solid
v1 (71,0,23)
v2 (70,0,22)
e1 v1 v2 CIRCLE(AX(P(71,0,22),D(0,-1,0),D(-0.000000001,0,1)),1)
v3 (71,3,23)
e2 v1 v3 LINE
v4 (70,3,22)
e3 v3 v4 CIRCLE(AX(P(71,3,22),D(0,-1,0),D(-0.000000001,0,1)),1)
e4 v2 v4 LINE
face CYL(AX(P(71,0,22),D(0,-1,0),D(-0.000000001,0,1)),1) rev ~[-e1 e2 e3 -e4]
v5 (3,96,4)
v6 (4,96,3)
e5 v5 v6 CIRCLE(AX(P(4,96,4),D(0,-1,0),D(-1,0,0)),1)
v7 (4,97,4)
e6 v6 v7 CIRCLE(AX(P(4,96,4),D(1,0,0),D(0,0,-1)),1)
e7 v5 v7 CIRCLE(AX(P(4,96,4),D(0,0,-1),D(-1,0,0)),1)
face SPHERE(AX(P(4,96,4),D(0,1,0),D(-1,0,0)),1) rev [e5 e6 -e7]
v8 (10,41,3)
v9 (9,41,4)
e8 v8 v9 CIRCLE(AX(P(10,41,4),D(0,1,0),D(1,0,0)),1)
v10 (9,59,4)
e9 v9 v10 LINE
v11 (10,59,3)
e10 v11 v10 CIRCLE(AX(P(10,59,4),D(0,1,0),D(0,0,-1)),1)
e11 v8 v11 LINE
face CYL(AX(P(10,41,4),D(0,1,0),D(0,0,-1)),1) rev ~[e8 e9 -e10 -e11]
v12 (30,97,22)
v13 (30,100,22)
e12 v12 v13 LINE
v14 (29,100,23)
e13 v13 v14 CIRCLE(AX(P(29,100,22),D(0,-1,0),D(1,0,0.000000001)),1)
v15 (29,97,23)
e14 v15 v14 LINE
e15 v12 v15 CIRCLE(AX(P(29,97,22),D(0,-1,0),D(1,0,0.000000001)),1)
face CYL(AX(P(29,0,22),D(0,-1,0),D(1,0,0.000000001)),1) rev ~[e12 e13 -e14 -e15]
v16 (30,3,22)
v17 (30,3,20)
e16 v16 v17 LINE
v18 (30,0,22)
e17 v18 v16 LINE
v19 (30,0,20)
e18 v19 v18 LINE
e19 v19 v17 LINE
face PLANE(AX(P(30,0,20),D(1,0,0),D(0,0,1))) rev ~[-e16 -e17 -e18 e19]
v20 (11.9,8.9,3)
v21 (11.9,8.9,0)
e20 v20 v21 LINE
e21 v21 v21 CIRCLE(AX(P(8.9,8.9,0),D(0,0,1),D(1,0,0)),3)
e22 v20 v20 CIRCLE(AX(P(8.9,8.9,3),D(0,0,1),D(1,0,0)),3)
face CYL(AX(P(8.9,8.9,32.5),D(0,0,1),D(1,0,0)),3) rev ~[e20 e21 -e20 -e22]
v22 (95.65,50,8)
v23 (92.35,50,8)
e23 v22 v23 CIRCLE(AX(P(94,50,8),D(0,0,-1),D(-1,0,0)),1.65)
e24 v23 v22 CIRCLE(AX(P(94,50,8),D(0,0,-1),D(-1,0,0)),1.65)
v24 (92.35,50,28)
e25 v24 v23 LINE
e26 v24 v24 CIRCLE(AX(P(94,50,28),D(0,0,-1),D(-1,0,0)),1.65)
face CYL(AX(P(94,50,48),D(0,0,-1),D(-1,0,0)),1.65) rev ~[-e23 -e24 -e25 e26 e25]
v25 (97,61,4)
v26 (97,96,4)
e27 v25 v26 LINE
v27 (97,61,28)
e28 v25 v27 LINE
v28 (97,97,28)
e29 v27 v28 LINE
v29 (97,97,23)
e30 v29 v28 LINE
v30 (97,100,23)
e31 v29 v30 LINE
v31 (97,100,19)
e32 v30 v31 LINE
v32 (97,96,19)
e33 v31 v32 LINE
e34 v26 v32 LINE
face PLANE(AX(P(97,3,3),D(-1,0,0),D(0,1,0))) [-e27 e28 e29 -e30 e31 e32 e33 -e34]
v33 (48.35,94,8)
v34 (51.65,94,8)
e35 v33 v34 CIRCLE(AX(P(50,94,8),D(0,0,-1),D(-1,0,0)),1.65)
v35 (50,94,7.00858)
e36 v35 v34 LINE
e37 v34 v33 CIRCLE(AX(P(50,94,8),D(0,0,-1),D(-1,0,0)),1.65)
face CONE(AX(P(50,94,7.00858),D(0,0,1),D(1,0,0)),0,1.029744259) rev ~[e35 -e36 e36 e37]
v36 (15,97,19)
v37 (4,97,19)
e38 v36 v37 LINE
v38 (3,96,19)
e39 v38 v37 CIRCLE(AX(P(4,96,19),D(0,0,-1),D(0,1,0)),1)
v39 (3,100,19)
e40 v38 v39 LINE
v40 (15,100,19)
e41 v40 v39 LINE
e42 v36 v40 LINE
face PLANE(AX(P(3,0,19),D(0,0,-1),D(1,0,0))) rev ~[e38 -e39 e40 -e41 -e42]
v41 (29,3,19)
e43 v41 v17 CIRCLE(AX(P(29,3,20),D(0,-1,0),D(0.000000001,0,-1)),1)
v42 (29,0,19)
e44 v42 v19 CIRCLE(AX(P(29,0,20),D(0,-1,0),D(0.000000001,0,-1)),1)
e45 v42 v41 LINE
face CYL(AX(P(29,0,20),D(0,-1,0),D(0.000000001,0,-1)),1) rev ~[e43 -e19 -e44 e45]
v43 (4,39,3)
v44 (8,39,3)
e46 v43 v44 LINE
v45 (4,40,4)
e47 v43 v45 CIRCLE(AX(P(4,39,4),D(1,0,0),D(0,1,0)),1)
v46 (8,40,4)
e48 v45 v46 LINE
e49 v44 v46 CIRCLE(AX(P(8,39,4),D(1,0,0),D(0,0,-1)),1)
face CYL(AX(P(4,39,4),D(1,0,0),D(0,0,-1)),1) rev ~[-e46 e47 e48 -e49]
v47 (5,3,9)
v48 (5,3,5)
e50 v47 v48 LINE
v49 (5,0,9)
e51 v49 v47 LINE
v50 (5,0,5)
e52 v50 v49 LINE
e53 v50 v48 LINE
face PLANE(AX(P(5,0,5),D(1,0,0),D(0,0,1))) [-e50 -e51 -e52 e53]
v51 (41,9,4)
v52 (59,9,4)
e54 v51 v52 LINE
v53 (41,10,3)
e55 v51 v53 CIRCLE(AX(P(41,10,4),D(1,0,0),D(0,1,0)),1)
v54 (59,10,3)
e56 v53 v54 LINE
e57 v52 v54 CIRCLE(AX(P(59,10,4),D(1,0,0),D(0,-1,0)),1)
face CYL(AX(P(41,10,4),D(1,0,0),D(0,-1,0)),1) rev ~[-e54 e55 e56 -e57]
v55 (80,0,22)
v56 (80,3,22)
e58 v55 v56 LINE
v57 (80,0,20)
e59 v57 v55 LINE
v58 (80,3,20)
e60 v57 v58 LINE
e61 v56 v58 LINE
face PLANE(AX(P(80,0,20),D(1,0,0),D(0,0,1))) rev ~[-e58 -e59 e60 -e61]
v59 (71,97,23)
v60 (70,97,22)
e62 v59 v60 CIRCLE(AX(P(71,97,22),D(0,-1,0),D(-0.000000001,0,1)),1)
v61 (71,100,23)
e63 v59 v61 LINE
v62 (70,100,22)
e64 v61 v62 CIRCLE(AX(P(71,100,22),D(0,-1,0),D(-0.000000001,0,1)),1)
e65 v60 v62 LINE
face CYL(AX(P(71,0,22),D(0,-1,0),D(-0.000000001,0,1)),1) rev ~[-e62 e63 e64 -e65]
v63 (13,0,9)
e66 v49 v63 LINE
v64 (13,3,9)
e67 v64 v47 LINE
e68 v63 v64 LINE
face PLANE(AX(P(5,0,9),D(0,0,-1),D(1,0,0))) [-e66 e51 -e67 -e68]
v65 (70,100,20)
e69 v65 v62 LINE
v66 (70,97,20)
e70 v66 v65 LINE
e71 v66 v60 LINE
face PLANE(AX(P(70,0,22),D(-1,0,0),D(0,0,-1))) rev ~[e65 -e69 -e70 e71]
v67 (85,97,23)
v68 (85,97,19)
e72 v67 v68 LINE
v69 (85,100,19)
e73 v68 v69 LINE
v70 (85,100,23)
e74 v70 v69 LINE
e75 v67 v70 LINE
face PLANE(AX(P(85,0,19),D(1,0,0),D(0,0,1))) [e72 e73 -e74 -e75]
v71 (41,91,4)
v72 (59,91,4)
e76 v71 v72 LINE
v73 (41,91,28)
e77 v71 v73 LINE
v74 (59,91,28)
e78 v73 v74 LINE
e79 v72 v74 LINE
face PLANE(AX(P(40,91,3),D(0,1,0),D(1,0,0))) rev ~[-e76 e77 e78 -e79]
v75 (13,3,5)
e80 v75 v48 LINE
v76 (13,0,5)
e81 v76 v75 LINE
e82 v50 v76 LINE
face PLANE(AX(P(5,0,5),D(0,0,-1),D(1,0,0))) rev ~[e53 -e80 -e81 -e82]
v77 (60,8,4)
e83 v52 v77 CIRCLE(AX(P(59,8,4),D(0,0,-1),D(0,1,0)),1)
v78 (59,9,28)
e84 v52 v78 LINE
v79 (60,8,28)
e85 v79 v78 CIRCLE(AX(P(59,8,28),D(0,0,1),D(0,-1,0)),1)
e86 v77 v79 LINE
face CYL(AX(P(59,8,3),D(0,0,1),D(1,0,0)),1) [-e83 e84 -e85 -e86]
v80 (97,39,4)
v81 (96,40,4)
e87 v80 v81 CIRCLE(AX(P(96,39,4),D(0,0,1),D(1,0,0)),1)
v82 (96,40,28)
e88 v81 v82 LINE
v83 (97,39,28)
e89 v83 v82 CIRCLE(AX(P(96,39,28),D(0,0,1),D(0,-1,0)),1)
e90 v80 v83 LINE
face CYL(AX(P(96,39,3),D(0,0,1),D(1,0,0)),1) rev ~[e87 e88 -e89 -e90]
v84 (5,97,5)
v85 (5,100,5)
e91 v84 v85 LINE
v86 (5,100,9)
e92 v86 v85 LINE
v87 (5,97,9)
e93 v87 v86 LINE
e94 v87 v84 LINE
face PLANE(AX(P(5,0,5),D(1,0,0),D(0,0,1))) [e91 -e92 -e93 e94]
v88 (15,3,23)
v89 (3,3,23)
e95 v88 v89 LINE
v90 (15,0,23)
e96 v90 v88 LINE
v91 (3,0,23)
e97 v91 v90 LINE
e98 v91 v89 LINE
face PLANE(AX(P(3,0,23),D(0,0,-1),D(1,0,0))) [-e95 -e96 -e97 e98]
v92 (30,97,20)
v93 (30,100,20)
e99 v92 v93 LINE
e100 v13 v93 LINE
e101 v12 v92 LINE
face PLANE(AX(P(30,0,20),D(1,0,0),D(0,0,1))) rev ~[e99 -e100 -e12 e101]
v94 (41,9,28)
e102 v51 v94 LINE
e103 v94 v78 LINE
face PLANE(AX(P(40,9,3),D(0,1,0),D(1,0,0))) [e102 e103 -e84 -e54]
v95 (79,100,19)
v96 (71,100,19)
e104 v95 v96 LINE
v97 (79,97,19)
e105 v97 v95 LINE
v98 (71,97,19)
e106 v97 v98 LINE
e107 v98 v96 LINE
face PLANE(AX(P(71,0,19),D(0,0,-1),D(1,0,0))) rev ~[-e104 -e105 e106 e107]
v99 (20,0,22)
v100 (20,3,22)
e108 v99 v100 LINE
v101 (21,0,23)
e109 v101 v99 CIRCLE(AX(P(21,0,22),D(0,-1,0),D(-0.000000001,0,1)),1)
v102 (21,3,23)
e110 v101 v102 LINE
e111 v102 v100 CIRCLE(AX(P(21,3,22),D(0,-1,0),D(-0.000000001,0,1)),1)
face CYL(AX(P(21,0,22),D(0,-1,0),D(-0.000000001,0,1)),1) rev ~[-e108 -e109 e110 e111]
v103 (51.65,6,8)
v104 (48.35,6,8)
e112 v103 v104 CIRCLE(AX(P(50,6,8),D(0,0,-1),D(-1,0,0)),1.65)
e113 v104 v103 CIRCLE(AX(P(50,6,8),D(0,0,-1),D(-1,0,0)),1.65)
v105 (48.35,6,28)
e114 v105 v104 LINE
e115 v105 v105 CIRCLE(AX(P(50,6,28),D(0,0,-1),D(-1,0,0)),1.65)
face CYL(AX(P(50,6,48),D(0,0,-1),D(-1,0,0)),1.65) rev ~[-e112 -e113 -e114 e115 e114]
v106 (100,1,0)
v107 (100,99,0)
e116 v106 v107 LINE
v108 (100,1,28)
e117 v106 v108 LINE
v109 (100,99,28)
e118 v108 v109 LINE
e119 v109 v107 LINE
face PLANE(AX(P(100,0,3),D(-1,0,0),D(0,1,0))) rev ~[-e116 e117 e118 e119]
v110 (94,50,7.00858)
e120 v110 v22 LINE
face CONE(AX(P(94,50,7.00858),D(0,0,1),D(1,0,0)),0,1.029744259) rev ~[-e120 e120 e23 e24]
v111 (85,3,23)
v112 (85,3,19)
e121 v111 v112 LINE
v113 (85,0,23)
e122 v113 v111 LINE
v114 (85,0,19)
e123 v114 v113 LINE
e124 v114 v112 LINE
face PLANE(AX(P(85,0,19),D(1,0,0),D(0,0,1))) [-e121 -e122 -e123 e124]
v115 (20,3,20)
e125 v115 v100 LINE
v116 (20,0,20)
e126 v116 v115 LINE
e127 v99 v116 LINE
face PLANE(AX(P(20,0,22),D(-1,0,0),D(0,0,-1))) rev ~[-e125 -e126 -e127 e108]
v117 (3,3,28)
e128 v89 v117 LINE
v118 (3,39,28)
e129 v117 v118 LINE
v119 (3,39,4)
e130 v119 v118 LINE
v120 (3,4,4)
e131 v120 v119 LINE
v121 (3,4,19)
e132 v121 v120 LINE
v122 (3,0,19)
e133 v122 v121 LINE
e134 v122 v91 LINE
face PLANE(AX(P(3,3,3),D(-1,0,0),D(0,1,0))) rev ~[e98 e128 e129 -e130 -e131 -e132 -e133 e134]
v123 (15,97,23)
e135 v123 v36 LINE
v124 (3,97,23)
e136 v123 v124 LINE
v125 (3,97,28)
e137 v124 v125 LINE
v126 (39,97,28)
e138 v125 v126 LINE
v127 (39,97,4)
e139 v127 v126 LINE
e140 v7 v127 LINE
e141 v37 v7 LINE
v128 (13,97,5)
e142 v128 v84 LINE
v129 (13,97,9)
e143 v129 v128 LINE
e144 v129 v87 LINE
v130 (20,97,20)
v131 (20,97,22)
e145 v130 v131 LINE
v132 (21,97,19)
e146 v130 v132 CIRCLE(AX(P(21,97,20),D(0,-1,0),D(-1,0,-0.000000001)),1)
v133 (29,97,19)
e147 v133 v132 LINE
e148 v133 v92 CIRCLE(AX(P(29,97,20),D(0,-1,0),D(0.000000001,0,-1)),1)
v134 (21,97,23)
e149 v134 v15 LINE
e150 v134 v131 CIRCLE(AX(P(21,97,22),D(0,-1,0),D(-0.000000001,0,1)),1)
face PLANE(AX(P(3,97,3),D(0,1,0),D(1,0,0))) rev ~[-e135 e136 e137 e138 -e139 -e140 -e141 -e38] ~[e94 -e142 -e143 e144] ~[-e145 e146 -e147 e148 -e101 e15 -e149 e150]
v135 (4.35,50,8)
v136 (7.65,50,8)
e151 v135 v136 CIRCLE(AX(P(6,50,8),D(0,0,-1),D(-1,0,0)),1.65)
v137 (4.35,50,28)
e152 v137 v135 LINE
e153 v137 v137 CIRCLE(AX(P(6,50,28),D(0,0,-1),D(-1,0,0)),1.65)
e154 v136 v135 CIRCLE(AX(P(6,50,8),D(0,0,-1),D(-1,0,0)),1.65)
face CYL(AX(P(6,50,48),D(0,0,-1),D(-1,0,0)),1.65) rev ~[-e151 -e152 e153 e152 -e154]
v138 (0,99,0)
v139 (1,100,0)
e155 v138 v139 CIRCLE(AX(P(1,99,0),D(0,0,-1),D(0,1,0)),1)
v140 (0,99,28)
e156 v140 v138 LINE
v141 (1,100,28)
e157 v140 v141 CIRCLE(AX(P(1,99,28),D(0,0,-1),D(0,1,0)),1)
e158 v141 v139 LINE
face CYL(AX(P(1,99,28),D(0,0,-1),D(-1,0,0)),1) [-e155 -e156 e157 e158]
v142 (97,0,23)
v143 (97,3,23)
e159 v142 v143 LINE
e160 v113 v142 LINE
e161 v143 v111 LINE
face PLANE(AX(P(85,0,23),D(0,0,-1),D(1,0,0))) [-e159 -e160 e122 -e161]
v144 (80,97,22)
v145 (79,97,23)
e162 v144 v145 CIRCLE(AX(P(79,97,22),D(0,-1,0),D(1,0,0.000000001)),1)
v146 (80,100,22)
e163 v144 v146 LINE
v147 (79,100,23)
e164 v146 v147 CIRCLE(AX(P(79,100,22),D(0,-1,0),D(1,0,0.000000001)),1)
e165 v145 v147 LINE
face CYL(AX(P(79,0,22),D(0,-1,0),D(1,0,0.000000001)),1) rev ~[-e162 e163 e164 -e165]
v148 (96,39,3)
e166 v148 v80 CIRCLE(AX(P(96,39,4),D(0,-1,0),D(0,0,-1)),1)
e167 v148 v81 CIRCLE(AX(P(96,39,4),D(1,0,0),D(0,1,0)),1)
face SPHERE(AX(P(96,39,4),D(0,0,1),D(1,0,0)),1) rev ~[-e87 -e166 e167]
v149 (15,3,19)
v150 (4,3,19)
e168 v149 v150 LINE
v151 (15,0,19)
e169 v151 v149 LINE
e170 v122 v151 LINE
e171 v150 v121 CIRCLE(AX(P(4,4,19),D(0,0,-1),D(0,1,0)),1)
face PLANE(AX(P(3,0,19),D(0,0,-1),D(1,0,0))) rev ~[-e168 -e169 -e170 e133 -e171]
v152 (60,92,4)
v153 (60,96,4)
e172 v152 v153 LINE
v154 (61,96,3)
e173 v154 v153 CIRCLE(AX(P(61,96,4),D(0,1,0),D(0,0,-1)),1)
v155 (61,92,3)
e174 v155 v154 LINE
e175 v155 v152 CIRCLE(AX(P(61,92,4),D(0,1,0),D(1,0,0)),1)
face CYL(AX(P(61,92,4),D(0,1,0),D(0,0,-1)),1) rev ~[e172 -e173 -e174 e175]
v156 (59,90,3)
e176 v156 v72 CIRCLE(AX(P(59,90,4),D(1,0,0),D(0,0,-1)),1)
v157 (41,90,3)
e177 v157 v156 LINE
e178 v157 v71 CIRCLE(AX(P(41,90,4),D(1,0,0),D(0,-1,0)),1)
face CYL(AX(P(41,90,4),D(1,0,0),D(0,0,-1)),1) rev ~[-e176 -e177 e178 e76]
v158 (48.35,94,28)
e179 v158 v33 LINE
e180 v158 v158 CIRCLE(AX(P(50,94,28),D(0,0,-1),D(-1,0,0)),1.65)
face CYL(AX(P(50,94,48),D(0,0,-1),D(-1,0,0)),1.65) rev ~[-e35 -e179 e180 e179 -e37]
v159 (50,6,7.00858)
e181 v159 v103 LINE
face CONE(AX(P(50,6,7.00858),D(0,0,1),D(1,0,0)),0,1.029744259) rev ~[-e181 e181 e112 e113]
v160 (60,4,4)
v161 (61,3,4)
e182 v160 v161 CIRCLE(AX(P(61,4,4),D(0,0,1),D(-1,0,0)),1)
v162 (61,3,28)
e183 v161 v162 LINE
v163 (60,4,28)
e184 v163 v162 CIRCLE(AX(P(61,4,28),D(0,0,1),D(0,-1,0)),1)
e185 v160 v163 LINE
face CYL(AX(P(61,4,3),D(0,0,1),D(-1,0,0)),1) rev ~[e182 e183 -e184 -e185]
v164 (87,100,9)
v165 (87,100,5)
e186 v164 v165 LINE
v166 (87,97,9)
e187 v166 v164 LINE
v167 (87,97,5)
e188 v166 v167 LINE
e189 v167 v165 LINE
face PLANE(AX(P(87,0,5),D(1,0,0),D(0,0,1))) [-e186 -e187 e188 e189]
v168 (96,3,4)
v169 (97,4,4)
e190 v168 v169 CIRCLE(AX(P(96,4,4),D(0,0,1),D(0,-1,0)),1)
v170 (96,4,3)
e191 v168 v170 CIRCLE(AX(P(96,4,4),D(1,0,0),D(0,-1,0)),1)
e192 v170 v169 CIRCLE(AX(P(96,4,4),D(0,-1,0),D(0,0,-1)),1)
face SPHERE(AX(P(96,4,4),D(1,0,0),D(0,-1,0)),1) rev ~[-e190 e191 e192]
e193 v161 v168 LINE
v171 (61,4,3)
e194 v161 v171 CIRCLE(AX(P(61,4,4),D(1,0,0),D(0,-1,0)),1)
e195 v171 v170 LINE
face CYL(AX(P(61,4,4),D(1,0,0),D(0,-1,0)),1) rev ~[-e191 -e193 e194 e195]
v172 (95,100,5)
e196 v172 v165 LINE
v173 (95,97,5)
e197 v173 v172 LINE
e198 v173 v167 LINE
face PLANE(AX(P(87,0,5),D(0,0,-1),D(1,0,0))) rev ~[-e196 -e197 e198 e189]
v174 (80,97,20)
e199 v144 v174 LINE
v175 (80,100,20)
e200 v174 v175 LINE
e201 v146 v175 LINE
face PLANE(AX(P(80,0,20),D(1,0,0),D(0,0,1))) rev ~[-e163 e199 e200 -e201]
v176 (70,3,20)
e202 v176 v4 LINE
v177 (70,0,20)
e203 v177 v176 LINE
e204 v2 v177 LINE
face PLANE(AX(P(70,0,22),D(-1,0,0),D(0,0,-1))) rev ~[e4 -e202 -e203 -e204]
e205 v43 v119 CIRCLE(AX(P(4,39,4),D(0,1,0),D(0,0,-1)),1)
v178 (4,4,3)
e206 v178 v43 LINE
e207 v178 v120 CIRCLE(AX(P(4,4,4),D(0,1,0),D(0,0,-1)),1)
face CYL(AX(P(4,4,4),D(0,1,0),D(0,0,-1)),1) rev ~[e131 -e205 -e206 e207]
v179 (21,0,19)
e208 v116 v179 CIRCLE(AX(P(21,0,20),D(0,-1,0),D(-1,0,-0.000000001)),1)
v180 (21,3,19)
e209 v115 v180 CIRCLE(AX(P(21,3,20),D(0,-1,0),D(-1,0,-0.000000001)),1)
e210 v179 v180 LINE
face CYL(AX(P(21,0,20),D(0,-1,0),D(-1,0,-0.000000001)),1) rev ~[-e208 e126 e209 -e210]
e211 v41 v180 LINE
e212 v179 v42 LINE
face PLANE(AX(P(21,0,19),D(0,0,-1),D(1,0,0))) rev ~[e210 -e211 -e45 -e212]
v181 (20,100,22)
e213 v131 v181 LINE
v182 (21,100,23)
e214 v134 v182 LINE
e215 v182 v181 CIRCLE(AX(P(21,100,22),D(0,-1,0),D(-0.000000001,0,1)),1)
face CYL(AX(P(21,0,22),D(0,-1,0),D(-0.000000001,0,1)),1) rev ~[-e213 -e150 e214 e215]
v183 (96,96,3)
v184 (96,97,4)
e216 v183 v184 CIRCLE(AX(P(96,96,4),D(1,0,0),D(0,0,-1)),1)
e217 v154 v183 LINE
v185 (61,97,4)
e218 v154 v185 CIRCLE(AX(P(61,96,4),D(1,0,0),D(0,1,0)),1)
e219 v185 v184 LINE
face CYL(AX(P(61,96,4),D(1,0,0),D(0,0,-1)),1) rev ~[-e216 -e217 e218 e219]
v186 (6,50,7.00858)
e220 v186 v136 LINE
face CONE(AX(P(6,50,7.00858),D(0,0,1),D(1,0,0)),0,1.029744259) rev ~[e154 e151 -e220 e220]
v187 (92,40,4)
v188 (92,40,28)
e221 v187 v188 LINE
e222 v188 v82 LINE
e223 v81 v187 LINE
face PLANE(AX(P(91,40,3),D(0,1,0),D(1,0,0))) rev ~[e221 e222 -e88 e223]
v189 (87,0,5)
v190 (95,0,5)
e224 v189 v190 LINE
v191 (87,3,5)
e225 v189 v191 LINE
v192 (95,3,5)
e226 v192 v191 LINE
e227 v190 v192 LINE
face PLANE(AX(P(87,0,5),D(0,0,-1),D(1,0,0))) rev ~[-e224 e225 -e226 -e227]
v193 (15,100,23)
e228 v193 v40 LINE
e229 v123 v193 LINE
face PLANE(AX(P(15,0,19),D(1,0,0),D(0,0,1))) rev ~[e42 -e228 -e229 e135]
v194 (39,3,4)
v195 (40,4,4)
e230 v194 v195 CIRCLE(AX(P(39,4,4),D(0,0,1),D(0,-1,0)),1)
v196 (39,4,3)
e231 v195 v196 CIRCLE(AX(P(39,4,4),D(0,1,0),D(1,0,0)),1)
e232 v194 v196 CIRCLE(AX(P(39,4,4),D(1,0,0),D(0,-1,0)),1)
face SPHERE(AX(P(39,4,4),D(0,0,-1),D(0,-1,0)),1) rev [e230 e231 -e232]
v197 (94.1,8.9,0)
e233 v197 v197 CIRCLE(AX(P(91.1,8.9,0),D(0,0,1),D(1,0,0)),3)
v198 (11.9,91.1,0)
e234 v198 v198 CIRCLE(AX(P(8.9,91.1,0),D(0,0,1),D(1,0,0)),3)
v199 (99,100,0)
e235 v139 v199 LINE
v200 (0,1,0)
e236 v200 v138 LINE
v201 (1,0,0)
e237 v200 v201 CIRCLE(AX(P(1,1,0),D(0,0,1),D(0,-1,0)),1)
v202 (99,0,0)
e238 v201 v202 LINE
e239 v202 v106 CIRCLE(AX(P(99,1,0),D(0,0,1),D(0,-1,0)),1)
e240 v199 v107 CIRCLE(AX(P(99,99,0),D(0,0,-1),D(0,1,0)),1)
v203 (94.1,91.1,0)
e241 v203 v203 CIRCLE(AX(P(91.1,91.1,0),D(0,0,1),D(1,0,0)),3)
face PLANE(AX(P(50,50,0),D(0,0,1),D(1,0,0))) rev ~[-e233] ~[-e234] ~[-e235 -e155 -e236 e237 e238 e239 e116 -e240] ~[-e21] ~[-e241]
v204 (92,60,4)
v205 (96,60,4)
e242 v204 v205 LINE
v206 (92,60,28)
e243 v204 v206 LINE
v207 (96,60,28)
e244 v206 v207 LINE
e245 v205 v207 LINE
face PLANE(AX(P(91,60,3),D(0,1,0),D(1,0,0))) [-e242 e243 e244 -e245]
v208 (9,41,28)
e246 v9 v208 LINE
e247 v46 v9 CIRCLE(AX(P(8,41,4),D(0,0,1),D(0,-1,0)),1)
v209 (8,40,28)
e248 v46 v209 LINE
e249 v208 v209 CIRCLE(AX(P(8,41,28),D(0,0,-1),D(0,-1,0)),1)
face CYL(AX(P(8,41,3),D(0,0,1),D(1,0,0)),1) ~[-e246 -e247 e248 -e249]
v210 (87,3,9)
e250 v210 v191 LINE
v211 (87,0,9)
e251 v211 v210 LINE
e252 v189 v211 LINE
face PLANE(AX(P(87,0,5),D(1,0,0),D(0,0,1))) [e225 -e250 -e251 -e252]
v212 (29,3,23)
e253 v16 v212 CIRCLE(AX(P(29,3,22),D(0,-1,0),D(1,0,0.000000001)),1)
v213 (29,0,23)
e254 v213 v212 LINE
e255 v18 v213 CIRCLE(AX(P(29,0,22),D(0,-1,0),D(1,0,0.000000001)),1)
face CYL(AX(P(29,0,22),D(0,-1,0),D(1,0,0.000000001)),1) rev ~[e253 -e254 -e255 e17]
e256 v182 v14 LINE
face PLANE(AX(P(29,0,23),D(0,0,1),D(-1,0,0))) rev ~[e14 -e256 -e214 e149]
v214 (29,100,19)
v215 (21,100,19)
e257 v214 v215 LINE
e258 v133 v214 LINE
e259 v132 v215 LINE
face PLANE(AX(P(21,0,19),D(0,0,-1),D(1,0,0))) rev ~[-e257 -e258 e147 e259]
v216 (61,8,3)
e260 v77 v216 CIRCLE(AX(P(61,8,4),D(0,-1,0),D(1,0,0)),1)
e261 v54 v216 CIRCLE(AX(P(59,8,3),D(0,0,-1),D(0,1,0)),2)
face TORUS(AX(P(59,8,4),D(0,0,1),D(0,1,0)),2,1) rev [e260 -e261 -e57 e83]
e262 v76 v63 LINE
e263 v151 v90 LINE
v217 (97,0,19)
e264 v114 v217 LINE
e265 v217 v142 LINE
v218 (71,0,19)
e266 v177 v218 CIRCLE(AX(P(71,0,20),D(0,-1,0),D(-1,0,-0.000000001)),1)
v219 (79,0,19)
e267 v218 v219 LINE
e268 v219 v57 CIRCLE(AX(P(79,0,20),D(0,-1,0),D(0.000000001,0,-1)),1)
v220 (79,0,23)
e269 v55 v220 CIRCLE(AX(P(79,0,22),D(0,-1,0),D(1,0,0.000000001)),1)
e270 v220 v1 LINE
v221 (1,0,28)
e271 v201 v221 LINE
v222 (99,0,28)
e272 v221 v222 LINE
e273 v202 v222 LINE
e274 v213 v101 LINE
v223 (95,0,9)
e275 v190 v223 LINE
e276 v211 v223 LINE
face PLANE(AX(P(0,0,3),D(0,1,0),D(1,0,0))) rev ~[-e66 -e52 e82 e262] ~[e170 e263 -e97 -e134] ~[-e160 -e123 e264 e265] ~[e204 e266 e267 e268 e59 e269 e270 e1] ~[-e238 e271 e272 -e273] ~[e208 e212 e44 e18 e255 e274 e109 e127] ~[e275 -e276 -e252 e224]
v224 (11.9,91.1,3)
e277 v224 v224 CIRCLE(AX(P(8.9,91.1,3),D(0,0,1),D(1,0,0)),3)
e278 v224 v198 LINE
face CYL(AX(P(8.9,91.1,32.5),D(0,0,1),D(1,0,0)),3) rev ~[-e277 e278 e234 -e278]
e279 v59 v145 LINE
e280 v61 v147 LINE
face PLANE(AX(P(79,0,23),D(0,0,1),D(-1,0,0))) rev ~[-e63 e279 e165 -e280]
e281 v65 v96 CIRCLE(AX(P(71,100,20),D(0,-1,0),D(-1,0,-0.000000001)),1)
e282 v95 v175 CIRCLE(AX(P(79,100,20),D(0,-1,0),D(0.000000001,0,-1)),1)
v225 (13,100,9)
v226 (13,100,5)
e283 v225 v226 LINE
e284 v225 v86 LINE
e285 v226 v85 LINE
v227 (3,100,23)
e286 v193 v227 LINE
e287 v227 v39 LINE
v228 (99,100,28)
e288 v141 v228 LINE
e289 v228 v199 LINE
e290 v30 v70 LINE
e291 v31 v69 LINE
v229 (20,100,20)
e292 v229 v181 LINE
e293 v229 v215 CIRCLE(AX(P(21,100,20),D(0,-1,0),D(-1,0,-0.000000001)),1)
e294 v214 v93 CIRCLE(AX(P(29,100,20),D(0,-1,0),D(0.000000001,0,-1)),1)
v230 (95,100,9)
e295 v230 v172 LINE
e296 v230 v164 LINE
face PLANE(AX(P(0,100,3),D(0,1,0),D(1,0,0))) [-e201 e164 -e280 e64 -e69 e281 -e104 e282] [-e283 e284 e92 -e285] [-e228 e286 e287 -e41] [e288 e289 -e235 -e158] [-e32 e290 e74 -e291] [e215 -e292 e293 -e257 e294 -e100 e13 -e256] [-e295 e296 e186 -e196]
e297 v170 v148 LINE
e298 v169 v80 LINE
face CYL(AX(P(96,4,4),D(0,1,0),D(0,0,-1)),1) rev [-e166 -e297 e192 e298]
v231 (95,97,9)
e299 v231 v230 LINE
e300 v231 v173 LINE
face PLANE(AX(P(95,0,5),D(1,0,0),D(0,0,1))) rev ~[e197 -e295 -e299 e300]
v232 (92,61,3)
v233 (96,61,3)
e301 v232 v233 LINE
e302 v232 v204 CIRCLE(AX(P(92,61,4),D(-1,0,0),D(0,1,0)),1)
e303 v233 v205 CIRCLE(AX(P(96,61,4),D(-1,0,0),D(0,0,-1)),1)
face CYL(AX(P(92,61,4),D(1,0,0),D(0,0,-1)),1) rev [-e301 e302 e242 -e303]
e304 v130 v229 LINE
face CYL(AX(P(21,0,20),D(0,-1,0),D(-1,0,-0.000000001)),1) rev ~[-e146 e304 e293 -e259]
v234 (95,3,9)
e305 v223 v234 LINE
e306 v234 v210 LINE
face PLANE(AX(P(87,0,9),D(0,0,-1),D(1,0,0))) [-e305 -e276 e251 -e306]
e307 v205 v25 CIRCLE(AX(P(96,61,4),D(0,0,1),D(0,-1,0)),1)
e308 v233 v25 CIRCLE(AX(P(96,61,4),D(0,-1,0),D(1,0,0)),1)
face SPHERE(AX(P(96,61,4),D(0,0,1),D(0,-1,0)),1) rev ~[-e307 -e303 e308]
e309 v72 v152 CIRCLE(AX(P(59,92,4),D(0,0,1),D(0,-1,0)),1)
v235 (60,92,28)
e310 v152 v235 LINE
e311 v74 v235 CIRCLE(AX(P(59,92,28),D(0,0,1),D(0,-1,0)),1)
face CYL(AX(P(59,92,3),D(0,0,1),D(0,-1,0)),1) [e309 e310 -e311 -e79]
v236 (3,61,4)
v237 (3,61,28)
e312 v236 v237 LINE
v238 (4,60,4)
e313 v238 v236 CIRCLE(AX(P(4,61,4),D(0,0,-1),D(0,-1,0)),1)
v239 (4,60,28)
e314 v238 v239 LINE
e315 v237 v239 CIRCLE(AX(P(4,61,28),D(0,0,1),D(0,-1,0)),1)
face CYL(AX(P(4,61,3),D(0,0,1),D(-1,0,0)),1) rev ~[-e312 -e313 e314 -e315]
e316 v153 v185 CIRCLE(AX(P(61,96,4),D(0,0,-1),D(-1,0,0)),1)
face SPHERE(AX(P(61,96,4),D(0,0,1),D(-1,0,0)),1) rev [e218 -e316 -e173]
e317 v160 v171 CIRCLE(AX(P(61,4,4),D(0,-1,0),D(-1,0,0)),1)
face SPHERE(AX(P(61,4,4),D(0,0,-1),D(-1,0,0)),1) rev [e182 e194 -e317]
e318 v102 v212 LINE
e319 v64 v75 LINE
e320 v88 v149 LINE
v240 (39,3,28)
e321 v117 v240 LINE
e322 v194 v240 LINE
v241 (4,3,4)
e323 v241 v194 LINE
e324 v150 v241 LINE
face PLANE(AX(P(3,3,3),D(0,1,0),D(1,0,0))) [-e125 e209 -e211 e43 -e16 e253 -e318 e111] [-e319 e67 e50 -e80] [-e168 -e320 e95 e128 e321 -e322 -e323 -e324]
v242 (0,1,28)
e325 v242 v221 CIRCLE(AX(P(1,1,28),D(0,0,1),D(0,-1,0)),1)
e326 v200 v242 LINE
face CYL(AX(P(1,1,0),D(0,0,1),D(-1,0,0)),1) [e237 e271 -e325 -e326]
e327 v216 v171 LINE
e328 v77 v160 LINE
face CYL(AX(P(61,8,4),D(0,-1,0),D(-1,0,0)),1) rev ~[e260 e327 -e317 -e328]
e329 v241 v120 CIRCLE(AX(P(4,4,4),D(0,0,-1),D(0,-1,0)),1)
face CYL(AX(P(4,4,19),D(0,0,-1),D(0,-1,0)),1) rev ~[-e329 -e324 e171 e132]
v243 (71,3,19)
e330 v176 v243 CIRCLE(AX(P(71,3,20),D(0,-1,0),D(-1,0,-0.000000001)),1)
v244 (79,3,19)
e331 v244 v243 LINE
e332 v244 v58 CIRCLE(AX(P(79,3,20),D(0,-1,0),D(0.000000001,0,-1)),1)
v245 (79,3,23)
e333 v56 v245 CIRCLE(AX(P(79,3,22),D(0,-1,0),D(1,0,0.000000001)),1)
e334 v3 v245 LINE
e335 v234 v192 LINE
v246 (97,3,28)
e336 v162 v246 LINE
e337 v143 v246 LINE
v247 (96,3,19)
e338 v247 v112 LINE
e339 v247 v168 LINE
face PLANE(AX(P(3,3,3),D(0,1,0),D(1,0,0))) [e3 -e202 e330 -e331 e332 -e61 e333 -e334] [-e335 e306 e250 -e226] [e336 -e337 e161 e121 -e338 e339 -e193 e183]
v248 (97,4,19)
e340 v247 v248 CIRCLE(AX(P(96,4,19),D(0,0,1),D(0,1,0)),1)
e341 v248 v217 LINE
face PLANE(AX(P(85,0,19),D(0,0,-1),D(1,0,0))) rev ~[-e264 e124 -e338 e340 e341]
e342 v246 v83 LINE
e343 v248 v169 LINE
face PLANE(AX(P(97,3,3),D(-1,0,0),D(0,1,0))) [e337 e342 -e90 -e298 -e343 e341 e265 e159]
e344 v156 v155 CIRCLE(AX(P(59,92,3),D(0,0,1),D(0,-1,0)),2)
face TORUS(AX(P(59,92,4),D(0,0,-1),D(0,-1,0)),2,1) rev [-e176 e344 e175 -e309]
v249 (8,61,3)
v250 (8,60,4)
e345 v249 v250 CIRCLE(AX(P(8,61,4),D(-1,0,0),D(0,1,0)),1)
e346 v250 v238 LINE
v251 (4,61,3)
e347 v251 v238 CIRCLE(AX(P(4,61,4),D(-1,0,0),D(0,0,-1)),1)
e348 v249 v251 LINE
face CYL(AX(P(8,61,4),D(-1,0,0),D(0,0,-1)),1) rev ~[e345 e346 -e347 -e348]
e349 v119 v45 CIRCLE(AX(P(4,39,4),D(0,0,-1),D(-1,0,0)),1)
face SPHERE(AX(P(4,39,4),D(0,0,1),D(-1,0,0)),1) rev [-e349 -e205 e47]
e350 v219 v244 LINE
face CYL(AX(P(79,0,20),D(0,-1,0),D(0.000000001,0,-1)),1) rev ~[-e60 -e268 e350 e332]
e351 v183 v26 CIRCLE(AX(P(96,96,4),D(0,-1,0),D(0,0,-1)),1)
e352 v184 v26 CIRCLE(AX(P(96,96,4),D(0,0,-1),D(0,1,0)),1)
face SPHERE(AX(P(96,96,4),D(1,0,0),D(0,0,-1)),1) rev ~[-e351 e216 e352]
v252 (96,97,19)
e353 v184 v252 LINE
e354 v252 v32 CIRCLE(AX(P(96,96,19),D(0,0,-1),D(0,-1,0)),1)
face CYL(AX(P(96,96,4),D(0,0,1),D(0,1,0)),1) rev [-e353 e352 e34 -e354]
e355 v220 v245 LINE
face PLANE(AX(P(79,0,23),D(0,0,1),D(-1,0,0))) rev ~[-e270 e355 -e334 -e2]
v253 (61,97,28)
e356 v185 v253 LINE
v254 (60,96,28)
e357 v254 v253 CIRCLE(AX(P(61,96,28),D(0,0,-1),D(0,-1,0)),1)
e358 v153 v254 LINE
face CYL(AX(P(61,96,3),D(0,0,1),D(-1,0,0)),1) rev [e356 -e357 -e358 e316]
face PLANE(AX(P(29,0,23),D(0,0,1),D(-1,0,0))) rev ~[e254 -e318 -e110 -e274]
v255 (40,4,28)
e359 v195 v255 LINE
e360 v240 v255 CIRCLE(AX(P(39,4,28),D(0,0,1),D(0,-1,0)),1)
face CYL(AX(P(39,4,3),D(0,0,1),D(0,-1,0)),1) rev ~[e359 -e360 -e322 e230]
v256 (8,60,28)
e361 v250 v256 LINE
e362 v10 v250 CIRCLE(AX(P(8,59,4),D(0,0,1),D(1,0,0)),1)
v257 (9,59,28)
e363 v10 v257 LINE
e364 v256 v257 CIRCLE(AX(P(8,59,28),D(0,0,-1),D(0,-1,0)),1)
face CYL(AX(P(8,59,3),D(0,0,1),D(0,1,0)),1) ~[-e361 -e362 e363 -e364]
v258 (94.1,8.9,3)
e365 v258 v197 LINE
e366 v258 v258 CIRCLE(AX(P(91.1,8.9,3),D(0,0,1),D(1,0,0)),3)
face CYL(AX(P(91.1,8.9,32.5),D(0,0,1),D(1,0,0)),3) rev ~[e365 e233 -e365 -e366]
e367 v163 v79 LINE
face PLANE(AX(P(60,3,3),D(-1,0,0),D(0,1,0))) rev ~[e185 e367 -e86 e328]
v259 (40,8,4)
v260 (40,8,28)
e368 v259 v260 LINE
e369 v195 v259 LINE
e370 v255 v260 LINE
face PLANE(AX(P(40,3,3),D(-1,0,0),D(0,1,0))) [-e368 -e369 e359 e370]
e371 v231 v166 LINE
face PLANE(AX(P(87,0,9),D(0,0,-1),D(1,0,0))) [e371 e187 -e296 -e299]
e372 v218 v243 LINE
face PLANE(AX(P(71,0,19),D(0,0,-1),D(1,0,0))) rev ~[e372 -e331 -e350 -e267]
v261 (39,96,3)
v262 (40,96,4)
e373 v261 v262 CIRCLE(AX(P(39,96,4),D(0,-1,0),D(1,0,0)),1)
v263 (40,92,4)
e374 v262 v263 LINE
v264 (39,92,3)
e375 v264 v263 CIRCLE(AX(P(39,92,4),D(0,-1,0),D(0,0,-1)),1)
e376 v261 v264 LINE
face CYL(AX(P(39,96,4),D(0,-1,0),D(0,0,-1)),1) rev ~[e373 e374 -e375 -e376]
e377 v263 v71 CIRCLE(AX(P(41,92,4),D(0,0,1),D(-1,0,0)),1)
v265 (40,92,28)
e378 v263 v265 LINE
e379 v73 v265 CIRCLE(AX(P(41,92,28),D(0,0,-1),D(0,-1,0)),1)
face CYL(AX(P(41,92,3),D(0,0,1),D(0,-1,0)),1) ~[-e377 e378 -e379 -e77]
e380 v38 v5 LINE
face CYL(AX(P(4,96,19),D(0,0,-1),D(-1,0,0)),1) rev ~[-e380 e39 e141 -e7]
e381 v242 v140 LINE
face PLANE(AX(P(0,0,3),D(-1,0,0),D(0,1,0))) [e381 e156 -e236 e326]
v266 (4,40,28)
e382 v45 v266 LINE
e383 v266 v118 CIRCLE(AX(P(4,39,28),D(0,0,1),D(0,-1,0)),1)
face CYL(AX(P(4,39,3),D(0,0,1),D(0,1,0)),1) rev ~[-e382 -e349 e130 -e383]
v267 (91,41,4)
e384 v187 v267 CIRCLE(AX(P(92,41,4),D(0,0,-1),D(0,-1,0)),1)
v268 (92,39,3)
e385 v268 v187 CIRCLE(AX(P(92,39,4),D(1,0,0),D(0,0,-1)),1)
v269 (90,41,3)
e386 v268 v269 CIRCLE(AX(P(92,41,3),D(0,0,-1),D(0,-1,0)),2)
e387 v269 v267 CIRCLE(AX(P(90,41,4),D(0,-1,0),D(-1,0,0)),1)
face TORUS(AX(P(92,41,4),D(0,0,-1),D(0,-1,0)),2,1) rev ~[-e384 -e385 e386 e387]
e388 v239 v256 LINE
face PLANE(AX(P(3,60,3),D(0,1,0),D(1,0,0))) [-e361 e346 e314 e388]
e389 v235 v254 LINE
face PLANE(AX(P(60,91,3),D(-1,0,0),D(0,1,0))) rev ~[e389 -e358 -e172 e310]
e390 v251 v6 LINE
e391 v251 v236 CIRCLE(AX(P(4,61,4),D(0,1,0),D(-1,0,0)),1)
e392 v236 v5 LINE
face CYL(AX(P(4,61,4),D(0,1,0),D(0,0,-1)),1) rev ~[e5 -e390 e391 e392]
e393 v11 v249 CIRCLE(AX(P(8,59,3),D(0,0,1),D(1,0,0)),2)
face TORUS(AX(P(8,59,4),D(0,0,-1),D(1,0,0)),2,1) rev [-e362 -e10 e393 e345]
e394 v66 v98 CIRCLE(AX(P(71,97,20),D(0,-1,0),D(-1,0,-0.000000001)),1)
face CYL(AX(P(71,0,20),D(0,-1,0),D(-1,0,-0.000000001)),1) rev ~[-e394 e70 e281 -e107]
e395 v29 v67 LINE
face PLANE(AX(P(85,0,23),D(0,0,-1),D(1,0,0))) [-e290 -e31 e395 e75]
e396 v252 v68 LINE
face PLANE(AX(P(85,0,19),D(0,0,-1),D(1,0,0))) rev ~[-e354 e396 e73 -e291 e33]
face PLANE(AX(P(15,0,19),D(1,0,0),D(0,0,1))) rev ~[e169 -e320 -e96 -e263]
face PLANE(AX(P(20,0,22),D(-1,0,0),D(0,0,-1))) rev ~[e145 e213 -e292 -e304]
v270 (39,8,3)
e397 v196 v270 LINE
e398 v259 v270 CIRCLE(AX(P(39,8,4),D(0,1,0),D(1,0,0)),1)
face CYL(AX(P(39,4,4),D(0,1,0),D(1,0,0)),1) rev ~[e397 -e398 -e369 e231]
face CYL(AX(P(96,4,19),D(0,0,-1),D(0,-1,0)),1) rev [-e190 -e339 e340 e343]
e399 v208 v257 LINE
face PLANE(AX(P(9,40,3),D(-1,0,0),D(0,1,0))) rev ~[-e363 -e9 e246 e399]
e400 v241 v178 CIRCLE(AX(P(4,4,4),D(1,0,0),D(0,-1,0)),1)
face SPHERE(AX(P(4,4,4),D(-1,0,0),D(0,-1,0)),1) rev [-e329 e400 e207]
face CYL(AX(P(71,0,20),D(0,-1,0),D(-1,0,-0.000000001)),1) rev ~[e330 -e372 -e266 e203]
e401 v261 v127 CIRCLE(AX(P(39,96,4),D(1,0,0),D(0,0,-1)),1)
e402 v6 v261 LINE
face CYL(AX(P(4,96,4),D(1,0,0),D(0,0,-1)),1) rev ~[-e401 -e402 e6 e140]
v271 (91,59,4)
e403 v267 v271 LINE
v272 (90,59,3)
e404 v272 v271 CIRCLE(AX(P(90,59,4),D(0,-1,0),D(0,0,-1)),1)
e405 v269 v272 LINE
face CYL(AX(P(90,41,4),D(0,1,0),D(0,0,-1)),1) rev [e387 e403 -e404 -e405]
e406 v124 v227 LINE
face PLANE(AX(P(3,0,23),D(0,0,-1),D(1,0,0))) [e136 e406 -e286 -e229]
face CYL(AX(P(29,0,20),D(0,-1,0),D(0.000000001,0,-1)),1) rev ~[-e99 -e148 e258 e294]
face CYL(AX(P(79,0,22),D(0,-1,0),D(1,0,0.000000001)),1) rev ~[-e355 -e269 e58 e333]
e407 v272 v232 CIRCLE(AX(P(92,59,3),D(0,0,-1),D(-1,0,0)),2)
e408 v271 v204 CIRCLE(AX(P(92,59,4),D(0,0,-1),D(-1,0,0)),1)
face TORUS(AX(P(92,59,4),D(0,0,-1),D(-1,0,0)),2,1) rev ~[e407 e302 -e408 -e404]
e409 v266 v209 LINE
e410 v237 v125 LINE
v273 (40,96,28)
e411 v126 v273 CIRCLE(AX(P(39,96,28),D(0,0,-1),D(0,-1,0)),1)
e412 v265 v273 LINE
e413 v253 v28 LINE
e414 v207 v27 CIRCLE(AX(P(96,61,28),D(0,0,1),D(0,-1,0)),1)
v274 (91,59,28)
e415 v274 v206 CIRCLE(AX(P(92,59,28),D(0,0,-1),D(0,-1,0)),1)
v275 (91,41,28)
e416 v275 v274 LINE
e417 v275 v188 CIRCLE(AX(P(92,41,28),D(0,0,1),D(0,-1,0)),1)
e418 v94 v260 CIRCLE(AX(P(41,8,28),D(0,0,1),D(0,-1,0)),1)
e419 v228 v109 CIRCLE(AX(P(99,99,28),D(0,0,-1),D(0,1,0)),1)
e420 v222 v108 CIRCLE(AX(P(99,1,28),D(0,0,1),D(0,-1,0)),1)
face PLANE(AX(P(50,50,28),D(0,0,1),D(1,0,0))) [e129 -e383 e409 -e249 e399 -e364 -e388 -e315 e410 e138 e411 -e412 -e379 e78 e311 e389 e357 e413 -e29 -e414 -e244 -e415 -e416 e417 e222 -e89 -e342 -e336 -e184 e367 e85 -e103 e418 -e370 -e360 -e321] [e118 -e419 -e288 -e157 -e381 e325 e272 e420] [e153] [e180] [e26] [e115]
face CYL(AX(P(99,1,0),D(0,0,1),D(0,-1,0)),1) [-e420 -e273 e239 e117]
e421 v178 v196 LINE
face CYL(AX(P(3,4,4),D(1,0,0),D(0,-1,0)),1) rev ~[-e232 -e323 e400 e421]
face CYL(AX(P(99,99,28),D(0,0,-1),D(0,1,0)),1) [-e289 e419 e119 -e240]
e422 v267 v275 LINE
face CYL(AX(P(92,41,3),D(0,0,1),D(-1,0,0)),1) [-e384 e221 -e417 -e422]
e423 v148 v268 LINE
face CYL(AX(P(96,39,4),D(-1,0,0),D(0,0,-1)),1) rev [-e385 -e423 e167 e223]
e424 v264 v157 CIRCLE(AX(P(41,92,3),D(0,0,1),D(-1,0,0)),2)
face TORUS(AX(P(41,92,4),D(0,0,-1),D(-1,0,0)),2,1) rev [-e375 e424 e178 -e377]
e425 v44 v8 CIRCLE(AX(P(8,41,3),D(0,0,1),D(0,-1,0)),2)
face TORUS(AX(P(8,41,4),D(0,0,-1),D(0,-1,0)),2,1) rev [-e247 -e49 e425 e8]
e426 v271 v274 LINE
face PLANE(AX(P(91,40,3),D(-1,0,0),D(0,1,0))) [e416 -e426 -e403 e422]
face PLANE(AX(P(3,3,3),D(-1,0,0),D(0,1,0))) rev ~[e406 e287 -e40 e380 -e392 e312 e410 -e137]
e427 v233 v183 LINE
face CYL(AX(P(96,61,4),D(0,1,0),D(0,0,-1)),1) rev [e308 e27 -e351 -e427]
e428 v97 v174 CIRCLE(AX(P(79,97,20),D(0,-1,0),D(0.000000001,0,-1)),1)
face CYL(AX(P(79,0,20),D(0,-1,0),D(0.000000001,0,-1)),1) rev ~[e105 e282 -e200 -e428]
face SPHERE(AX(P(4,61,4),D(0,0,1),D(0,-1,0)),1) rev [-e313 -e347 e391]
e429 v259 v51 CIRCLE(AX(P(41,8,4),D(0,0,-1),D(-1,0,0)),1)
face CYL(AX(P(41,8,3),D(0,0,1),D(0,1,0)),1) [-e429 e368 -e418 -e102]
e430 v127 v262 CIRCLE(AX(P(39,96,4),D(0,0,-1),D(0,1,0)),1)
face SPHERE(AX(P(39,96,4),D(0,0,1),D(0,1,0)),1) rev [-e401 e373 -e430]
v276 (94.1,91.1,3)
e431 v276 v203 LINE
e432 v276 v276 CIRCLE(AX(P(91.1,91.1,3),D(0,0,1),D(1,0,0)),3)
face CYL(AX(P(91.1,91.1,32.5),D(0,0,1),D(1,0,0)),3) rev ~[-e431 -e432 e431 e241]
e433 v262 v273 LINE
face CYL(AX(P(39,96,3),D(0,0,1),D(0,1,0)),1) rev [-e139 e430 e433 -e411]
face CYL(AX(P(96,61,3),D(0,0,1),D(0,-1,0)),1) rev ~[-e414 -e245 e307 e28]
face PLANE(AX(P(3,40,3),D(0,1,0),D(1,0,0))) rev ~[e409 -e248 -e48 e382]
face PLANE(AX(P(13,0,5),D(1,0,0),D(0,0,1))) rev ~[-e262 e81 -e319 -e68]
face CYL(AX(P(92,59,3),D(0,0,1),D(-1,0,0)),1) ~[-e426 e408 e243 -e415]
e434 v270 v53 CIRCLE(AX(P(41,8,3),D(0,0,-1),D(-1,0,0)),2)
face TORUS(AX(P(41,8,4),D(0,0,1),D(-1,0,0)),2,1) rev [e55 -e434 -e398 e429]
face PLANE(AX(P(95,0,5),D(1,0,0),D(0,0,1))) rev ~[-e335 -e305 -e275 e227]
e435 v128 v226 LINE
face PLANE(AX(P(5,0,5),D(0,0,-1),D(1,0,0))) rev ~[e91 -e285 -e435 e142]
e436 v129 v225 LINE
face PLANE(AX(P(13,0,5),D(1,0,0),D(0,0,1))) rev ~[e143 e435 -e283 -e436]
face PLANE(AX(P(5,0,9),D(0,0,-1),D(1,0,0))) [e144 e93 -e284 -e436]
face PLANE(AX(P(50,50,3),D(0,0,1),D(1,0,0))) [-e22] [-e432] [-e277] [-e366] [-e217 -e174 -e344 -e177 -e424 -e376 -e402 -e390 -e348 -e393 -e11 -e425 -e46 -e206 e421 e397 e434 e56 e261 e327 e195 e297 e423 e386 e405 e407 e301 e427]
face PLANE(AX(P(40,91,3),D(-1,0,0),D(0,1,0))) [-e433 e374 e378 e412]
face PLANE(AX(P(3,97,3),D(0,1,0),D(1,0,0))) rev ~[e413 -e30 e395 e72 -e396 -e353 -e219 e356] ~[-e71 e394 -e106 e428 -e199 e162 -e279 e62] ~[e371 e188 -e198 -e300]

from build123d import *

# Parameters (mm, degrees)
SKETCH1_W                 = 100
SKETCH1_H                 = 100
BOSS_EXTRUDE1_DEPTH       = 3
SKETCH2_W                 = 100
SKETCH2_H                 = 100
SKETCH2_W_2               = 94
SKETCH2_H_2               = 94
BOSS_EXTRUDE2_DEPTH       = 25
SKETCH5_R                 = 3
CUT_EXTRUDE1_DEPTH        = 146.107718609
SKETCH6_W                 = 12
SKETCH6_H                 = 4
SKETCH6_W_2               = 8
CUT_EXTRUDE3_DEPTH        = 145.166570328
SKETCH7_W                 = 6
SKETCH7_H                 = 20
SKETCH7_W_2               = 20
SKETCH7_H_2               = 6
BOSS_EXTRUDE4_DEPTH       = 25
M4X0_7_TAPPED_HOLE1_D     = 3.3
M4X0_7_TAPPED_HOLE1_DEPTH = 20
M4X0_7_TAPPED_HOLE1_TIP   = 0.991420021
FILLET1_R                 = 1
FILLET2_R                 = 1
FILLET3_R                 = 1
FILLET4_R                 = 1
FILLET5_R                 = 1
FILLET6_R                 = 1
FILLET7_R                 = 1
FILLET8_R                 = 1
FILLET9_R                 = 1
FILLET10_R                = 1
FILLET11_R                = 1
FILLET12_R                = 1
FILLET22_R                = 1
FILLET23_R                = 1
FILLET24_R                = 1
FILLET25_R                = 1
FILLET26_R                = 1
FILLET27_R                = 1
FILLET28_R                = 1
FILLET29_R                = 1
FILLET30_R                = 1
FILLET31_R                = 1
FILLET32_R                = 1
FILLET33_R                = 1
CUT_EXTRUDE5_DEPTH        = 145.166570328


with BuildPart() as part:
    # Sketch1 → Boss-Extrude1 (new body)
    with BuildSketch(Plane.XY):
        with Locations((50, 50)):
            Rectangle(SKETCH1_W, SKETCH1_H)
    extrude(amount=BOSS_EXTRUDE1_DEPTH)

    # Sketch2 → Boss-Extrude2 (add)
    with BuildSketch(Plane.XY.offset(3)):
        with Locations((50, 50)):
            Rectangle(SKETCH2_W, SKETCH2_H)
        with Locations((50, 50)):
            Rectangle(SKETCH2_W_2, SKETCH2_H_2, mode=Mode.SUBTRACT)
    extrude(amount=BOSS_EXTRUDE2_DEPTH)

    # Sketch5 → Cut-Extrude1 (cut, through all)
    with BuildSketch(Plane.XY.offset(32.5)):
        with Locations((8.9, 8.9)):
            Circle(SKETCH5_R)
        with Locations((8.9, 91.1)):
            Circle(SKETCH5_R)
        with Locations((91.1, 91.1)):
            Circle(SKETCH5_R)
        with Locations((91.1, 8.9)):
            Circle(SKETCH5_R)
    extrude(amount=-CUT_EXTRUDE1_DEPTH, mode=Mode.SUBTRACT)

    # Sketch6 → Cut-Extrude3 (cut, through all)
    with BuildSketch(Plane.XZ):
        with Locations((9, 21)):
            Rectangle(SKETCH6_W, SKETCH6_H)
        with Locations((91, 21)):
            Rectangle(SKETCH6_W, SKETCH6_H)
        with Locations((9, 7)):
            Rectangle(SKETCH6_W_2, SKETCH6_H)
        with Locations((91, 7)):
            Rectangle(SKETCH6_W_2, SKETCH6_H)
    extrude(amount=-CUT_EXTRUDE3_DEPTH, mode=Mode.SUBTRACT)

    # Sketch7 → Boss-Extrude4 (add)
    with BuildSketch(Plane.XY.offset(3)):
        with Locations((6, 50)):
            Rectangle(SKETCH7_W, SKETCH7_H)
        with Locations((50, 94)):
            Rectangle(SKETCH7_W_2, SKETCH7_H_2)
        with Locations((94, 50)):
            Rectangle(SKETCH7_W, SKETCH7_H)
        with Locations((50, 6)):
            Rectangle(SKETCH7_W_2, SKETCH7_H_2)
    extrude(amount=BOSS_EXTRUDE4_DEPTH)

    # M4x0.7 Tapped Hole1
    with Locations(Plane.XY.offset(28)):
        with Locations((6, 50), (50, 94), (94, 50), (50, 6)):
            Hole(M4X0_7_TAPPED_HOLE1_D / 2, depth=M4X0_7_TAPPED_HOLE1_DEPTH)
            with Locations((0, 0, -(M4X0_7_TAPPED_HOLE1_DEPTH + M4X0_7_TAPPED_HOLE1_TIP / 2))):  # 118° drill point
                Cone(0, M4X0_7_TAPPED_HOLE1_D / 2, M4X0_7_TAPPED_HOLE1_TIP, mode=Mode.SUBTRACT)

    # Fillet1
    fillet1_edges = [part.edges().sort_by_distance(p)[0] for p in [
        (0, 0, 14),
    ]]
    fillet(fillet1_edges, radius=FILLET1_R)

    # Fillet2
    fillet2_edges = [part.edges().sort_by_distance(p)[0] for p in [
        (100, 0, 14),
    ]]
    fillet(fillet2_edges, radius=FILLET2_R)

    # Fillet3
    fillet3_edges = [part.edges().sort_by_distance(p)[0] for p in [
        (0, 100, 14),
    ]]
    fillet(fillet3_edges, radius=FILLET3_R)

    # Fillet4
    fillet4_edges = [part.edges().sort_by_distance(p)[0] for p in [
        (100, 100, 14),
    ]]
    fillet(fillet4_edges, radius=FILLET4_R)

    # Fillet5
    fillet5_edges = [part.edges().sort_by_distance(p)[0] for p in [
        (40, 3, 15.5),
    ]]
    fillet(fillet5_edges, radius=FILLET5_R)

    # Fillet6
    fillet6_edges = [part.edges().sort_by_distance(p)[0] for p in [
        (60, 3, 15.5),
    ]]
    fillet(fillet6_edges, radius=FILLET6_R)

    # Fillet7
    fillet7_edges = [part.edges().sort_by_distance(p)[0] for p in [
        (97, 40, 15.5),
    ]]
    fillet(fillet7_edges, radius=FILLET7_R)

    # Fillet8
    fillet8_edges = [part.edges().sort_by_distance(p)[0] for p in [
        (97, 60, 15.5),
    ]]
    fillet(fillet8_edges, radius=FILLET8_R)

    # Fillet9
    fillet9_edges = [part.edges().sort_by_distance(p)[0] for p in [
        (3, 60, 15.5),
    ]]
    fillet(fillet9_edges, radius=FILLET9_R)

    # Fillet10
    fillet10_edges = [part.edges().sort_by_distance(p)[0] for p in [
        (3, 40, 15.5),
    ]]
    fillet(fillet10_edges, radius=FILLET10_R)

    # Fillet11
    fillet11_edges = [part.edges().sort_by_distance(p)[0] for p in [
        (40, 97, 15.5),
    ]]
    fillet(fillet11_edges, radius=FILLET11_R)

    # Fillet12
    fillet12_edges = [part.edges().sort_by_distance(p)[0] for p in [
        (60, 97, 15.5),
    ]]
    fillet(fillet12_edges, radius=FILLET12_R)

    # Fillet22
    fillet22_edges = [part.edges().sort_by_distance(p)[0] for p in [
        (60, 9, 15.5),
    ]]
    fillet(fillet22_edges, radius=FILLET22_R)

    # Fillet23
    fillet23_edges = [part.edges().sort_by_distance(p)[0] for p in [
        (40, 9, 15.5),
    ]]
    fillet(fillet23_edges, radius=FILLET23_R)

    # Fillet24
    fillet24_edges = [part.edges().sort_by_distance(p)[0] for p in [
        (91, 60, 15.5),
    ]]
    fillet(fillet24_edges, radius=FILLET24_R)

    # Fillet25
    fillet25_edges = [part.edges().sort_by_distance(p)[0] for p in [
        (91, 40, 15.5),
    ]]
    fillet(fillet25_edges, radius=FILLET25_R)

    # Fillet26
    fillet26_edges = [part.edges().sort_by_distance(p)[0] for p in [
        (9, 60, 15.5),
    ]]
    fillet(fillet26_edges, radius=FILLET26_R)

    # Fillet27
    fillet27_edges = [part.edges().sort_by_distance(p)[0] for p in [
        (9, 40, 15.5),
    ]]
    fillet(fillet27_edges, radius=FILLET27_R)

    # Fillet28
    fillet28_edges = [part.edges().sort_by_distance(p)[0] for p in [
        (60, 91, 15.5),
    ]]
    fillet(fillet28_edges, radius=FILLET28_R)

    # Fillet29
    fillet29_edges = [part.edges().sort_by_distance(p)[0] for p in [
        (40, 91, 15.5),
    ]]
    fillet(fillet29_edges, radius=FILLET29_R)

    # Fillet30
    fillet30_edges = [part.edges().sort_by_distance(p)[0] for p in [
        (21, 3, 3),
        (39.707106781, 3.292893219, 3),
        (60, 6, 3),
        (79, 3, 3),
        (60.292893219, 3.292893219, 3),
        (50, 9, 3),
        (59.707106781, 8.707106781, 3),
        (40, 6, 3),
        (40.292893219, 8.707106781, 3),
    ]]
    fillet(fillet30_edges, radius=FILLET30_R)

    # Fillet31
    fillet31_edges = [part.edges().sort_by_distance(p)[0] for p in [
        (3, 79, 3),
        (3.292893219, 60.292893219, 3),
        (3, 21.5, 3),
        (6, 40, 3),
        (3.292893219, 39.707106781, 3),
        (6, 60, 3),
        (8.707106781, 59.707106781, 3),
        (9, 50, 3),
        (8.707106781, 40.292893219, 3),
        (3, 3.292893219, 3.292893219),
        (3, 3, 11.5),
    ]]
    fillet(fillet31_edges, radius=FILLET31_R)

    # Fillet32
    fillet32_edges = [part.edges().sort_by_distance(p)[0] for p in [
        (79, 97, 3),
        (21.5, 97, 3),
        (40, 94, 3),
        (39.707106781, 96.707106781, 3),
        (60.292893219, 96.707106781, 3),
        (60, 94, 3),
        (59.707106781, 91.292893219, 3),
        (50, 91, 3),
        (40.292893219, 91.292893219, 3),
        (3.292893219, 97, 3.292893219),
        (3, 97, 11.5),
    ]]
    fillet(fillet32_edges, radius=FILLET32_R)

    # Fillet33
    fillet33_edges = [part.edges().sort_by_distance(p)[0] for p in [
        (96.707106781, 39.707106781, 3),
        (97, 78.5, 3),
        (94, 60, 3),
        (96.707106781, 60.292893219, 3),
        (91, 50, 3),
        (91.292893219, 59.707106781, 3),
        (94, 40, 3),
        (91.292893219, 40.292893219, 3),
        (97, 21.5, 3),
        (97, 3.292893219, 3.292893219),
        (97, 97, 11.5),
        (97, 96.707106781, 3.292893219),
        (97, 3, 11.5),
    ]]
    fillet(fillet33_edges, radius=FILLET33_R)

    # Sketch12 → Cut-Extrude5 (cut, through all)
    with BuildSketch(Plane.XZ):
        with BuildLine():
            Line((21, 19), (29, 19))
            ThreePointArc((29, 19), (29.707106781, 19.292893219), (30, 20))
            Line((30, 20), (30, 22))
            ThreePointArc((30, 22), (29.707106781, 22.707106781), (29, 23))
            Line((29, 23), (21, 23))
            ThreePointArc((21, 23), (20.292893219, 22.707106781), (20, 22))
            Line((20, 22), (20, 20))
            ThreePointArc((20, 20), (20.292893219, 19.292893219), (21, 19))
        make_face()
        with BuildLine():
            Line((71, 19), (79, 19))
            ThreePointArc((79, 19), (79.707106781, 19.292893219), (80, 20))
            Line((80, 20), (80, 22))
            ThreePointArc((80, 22), (79.707106781, 22.707106781), (79, 23))
            Line((79, 23), (71, 23))
            ThreePointArc((71, 23), (70.292893219, 22.707106781), (70, 22))
            Line((70, 22), (70, 20))
            ThreePointArc((70, 20), (70.292893219, 19.292893219), (71, 19))
        make_face()
    extrude(amount=-CUT_EXTRUDE5_DEPTH, mode=Mode.SUBTRACT)


solid = part.part
